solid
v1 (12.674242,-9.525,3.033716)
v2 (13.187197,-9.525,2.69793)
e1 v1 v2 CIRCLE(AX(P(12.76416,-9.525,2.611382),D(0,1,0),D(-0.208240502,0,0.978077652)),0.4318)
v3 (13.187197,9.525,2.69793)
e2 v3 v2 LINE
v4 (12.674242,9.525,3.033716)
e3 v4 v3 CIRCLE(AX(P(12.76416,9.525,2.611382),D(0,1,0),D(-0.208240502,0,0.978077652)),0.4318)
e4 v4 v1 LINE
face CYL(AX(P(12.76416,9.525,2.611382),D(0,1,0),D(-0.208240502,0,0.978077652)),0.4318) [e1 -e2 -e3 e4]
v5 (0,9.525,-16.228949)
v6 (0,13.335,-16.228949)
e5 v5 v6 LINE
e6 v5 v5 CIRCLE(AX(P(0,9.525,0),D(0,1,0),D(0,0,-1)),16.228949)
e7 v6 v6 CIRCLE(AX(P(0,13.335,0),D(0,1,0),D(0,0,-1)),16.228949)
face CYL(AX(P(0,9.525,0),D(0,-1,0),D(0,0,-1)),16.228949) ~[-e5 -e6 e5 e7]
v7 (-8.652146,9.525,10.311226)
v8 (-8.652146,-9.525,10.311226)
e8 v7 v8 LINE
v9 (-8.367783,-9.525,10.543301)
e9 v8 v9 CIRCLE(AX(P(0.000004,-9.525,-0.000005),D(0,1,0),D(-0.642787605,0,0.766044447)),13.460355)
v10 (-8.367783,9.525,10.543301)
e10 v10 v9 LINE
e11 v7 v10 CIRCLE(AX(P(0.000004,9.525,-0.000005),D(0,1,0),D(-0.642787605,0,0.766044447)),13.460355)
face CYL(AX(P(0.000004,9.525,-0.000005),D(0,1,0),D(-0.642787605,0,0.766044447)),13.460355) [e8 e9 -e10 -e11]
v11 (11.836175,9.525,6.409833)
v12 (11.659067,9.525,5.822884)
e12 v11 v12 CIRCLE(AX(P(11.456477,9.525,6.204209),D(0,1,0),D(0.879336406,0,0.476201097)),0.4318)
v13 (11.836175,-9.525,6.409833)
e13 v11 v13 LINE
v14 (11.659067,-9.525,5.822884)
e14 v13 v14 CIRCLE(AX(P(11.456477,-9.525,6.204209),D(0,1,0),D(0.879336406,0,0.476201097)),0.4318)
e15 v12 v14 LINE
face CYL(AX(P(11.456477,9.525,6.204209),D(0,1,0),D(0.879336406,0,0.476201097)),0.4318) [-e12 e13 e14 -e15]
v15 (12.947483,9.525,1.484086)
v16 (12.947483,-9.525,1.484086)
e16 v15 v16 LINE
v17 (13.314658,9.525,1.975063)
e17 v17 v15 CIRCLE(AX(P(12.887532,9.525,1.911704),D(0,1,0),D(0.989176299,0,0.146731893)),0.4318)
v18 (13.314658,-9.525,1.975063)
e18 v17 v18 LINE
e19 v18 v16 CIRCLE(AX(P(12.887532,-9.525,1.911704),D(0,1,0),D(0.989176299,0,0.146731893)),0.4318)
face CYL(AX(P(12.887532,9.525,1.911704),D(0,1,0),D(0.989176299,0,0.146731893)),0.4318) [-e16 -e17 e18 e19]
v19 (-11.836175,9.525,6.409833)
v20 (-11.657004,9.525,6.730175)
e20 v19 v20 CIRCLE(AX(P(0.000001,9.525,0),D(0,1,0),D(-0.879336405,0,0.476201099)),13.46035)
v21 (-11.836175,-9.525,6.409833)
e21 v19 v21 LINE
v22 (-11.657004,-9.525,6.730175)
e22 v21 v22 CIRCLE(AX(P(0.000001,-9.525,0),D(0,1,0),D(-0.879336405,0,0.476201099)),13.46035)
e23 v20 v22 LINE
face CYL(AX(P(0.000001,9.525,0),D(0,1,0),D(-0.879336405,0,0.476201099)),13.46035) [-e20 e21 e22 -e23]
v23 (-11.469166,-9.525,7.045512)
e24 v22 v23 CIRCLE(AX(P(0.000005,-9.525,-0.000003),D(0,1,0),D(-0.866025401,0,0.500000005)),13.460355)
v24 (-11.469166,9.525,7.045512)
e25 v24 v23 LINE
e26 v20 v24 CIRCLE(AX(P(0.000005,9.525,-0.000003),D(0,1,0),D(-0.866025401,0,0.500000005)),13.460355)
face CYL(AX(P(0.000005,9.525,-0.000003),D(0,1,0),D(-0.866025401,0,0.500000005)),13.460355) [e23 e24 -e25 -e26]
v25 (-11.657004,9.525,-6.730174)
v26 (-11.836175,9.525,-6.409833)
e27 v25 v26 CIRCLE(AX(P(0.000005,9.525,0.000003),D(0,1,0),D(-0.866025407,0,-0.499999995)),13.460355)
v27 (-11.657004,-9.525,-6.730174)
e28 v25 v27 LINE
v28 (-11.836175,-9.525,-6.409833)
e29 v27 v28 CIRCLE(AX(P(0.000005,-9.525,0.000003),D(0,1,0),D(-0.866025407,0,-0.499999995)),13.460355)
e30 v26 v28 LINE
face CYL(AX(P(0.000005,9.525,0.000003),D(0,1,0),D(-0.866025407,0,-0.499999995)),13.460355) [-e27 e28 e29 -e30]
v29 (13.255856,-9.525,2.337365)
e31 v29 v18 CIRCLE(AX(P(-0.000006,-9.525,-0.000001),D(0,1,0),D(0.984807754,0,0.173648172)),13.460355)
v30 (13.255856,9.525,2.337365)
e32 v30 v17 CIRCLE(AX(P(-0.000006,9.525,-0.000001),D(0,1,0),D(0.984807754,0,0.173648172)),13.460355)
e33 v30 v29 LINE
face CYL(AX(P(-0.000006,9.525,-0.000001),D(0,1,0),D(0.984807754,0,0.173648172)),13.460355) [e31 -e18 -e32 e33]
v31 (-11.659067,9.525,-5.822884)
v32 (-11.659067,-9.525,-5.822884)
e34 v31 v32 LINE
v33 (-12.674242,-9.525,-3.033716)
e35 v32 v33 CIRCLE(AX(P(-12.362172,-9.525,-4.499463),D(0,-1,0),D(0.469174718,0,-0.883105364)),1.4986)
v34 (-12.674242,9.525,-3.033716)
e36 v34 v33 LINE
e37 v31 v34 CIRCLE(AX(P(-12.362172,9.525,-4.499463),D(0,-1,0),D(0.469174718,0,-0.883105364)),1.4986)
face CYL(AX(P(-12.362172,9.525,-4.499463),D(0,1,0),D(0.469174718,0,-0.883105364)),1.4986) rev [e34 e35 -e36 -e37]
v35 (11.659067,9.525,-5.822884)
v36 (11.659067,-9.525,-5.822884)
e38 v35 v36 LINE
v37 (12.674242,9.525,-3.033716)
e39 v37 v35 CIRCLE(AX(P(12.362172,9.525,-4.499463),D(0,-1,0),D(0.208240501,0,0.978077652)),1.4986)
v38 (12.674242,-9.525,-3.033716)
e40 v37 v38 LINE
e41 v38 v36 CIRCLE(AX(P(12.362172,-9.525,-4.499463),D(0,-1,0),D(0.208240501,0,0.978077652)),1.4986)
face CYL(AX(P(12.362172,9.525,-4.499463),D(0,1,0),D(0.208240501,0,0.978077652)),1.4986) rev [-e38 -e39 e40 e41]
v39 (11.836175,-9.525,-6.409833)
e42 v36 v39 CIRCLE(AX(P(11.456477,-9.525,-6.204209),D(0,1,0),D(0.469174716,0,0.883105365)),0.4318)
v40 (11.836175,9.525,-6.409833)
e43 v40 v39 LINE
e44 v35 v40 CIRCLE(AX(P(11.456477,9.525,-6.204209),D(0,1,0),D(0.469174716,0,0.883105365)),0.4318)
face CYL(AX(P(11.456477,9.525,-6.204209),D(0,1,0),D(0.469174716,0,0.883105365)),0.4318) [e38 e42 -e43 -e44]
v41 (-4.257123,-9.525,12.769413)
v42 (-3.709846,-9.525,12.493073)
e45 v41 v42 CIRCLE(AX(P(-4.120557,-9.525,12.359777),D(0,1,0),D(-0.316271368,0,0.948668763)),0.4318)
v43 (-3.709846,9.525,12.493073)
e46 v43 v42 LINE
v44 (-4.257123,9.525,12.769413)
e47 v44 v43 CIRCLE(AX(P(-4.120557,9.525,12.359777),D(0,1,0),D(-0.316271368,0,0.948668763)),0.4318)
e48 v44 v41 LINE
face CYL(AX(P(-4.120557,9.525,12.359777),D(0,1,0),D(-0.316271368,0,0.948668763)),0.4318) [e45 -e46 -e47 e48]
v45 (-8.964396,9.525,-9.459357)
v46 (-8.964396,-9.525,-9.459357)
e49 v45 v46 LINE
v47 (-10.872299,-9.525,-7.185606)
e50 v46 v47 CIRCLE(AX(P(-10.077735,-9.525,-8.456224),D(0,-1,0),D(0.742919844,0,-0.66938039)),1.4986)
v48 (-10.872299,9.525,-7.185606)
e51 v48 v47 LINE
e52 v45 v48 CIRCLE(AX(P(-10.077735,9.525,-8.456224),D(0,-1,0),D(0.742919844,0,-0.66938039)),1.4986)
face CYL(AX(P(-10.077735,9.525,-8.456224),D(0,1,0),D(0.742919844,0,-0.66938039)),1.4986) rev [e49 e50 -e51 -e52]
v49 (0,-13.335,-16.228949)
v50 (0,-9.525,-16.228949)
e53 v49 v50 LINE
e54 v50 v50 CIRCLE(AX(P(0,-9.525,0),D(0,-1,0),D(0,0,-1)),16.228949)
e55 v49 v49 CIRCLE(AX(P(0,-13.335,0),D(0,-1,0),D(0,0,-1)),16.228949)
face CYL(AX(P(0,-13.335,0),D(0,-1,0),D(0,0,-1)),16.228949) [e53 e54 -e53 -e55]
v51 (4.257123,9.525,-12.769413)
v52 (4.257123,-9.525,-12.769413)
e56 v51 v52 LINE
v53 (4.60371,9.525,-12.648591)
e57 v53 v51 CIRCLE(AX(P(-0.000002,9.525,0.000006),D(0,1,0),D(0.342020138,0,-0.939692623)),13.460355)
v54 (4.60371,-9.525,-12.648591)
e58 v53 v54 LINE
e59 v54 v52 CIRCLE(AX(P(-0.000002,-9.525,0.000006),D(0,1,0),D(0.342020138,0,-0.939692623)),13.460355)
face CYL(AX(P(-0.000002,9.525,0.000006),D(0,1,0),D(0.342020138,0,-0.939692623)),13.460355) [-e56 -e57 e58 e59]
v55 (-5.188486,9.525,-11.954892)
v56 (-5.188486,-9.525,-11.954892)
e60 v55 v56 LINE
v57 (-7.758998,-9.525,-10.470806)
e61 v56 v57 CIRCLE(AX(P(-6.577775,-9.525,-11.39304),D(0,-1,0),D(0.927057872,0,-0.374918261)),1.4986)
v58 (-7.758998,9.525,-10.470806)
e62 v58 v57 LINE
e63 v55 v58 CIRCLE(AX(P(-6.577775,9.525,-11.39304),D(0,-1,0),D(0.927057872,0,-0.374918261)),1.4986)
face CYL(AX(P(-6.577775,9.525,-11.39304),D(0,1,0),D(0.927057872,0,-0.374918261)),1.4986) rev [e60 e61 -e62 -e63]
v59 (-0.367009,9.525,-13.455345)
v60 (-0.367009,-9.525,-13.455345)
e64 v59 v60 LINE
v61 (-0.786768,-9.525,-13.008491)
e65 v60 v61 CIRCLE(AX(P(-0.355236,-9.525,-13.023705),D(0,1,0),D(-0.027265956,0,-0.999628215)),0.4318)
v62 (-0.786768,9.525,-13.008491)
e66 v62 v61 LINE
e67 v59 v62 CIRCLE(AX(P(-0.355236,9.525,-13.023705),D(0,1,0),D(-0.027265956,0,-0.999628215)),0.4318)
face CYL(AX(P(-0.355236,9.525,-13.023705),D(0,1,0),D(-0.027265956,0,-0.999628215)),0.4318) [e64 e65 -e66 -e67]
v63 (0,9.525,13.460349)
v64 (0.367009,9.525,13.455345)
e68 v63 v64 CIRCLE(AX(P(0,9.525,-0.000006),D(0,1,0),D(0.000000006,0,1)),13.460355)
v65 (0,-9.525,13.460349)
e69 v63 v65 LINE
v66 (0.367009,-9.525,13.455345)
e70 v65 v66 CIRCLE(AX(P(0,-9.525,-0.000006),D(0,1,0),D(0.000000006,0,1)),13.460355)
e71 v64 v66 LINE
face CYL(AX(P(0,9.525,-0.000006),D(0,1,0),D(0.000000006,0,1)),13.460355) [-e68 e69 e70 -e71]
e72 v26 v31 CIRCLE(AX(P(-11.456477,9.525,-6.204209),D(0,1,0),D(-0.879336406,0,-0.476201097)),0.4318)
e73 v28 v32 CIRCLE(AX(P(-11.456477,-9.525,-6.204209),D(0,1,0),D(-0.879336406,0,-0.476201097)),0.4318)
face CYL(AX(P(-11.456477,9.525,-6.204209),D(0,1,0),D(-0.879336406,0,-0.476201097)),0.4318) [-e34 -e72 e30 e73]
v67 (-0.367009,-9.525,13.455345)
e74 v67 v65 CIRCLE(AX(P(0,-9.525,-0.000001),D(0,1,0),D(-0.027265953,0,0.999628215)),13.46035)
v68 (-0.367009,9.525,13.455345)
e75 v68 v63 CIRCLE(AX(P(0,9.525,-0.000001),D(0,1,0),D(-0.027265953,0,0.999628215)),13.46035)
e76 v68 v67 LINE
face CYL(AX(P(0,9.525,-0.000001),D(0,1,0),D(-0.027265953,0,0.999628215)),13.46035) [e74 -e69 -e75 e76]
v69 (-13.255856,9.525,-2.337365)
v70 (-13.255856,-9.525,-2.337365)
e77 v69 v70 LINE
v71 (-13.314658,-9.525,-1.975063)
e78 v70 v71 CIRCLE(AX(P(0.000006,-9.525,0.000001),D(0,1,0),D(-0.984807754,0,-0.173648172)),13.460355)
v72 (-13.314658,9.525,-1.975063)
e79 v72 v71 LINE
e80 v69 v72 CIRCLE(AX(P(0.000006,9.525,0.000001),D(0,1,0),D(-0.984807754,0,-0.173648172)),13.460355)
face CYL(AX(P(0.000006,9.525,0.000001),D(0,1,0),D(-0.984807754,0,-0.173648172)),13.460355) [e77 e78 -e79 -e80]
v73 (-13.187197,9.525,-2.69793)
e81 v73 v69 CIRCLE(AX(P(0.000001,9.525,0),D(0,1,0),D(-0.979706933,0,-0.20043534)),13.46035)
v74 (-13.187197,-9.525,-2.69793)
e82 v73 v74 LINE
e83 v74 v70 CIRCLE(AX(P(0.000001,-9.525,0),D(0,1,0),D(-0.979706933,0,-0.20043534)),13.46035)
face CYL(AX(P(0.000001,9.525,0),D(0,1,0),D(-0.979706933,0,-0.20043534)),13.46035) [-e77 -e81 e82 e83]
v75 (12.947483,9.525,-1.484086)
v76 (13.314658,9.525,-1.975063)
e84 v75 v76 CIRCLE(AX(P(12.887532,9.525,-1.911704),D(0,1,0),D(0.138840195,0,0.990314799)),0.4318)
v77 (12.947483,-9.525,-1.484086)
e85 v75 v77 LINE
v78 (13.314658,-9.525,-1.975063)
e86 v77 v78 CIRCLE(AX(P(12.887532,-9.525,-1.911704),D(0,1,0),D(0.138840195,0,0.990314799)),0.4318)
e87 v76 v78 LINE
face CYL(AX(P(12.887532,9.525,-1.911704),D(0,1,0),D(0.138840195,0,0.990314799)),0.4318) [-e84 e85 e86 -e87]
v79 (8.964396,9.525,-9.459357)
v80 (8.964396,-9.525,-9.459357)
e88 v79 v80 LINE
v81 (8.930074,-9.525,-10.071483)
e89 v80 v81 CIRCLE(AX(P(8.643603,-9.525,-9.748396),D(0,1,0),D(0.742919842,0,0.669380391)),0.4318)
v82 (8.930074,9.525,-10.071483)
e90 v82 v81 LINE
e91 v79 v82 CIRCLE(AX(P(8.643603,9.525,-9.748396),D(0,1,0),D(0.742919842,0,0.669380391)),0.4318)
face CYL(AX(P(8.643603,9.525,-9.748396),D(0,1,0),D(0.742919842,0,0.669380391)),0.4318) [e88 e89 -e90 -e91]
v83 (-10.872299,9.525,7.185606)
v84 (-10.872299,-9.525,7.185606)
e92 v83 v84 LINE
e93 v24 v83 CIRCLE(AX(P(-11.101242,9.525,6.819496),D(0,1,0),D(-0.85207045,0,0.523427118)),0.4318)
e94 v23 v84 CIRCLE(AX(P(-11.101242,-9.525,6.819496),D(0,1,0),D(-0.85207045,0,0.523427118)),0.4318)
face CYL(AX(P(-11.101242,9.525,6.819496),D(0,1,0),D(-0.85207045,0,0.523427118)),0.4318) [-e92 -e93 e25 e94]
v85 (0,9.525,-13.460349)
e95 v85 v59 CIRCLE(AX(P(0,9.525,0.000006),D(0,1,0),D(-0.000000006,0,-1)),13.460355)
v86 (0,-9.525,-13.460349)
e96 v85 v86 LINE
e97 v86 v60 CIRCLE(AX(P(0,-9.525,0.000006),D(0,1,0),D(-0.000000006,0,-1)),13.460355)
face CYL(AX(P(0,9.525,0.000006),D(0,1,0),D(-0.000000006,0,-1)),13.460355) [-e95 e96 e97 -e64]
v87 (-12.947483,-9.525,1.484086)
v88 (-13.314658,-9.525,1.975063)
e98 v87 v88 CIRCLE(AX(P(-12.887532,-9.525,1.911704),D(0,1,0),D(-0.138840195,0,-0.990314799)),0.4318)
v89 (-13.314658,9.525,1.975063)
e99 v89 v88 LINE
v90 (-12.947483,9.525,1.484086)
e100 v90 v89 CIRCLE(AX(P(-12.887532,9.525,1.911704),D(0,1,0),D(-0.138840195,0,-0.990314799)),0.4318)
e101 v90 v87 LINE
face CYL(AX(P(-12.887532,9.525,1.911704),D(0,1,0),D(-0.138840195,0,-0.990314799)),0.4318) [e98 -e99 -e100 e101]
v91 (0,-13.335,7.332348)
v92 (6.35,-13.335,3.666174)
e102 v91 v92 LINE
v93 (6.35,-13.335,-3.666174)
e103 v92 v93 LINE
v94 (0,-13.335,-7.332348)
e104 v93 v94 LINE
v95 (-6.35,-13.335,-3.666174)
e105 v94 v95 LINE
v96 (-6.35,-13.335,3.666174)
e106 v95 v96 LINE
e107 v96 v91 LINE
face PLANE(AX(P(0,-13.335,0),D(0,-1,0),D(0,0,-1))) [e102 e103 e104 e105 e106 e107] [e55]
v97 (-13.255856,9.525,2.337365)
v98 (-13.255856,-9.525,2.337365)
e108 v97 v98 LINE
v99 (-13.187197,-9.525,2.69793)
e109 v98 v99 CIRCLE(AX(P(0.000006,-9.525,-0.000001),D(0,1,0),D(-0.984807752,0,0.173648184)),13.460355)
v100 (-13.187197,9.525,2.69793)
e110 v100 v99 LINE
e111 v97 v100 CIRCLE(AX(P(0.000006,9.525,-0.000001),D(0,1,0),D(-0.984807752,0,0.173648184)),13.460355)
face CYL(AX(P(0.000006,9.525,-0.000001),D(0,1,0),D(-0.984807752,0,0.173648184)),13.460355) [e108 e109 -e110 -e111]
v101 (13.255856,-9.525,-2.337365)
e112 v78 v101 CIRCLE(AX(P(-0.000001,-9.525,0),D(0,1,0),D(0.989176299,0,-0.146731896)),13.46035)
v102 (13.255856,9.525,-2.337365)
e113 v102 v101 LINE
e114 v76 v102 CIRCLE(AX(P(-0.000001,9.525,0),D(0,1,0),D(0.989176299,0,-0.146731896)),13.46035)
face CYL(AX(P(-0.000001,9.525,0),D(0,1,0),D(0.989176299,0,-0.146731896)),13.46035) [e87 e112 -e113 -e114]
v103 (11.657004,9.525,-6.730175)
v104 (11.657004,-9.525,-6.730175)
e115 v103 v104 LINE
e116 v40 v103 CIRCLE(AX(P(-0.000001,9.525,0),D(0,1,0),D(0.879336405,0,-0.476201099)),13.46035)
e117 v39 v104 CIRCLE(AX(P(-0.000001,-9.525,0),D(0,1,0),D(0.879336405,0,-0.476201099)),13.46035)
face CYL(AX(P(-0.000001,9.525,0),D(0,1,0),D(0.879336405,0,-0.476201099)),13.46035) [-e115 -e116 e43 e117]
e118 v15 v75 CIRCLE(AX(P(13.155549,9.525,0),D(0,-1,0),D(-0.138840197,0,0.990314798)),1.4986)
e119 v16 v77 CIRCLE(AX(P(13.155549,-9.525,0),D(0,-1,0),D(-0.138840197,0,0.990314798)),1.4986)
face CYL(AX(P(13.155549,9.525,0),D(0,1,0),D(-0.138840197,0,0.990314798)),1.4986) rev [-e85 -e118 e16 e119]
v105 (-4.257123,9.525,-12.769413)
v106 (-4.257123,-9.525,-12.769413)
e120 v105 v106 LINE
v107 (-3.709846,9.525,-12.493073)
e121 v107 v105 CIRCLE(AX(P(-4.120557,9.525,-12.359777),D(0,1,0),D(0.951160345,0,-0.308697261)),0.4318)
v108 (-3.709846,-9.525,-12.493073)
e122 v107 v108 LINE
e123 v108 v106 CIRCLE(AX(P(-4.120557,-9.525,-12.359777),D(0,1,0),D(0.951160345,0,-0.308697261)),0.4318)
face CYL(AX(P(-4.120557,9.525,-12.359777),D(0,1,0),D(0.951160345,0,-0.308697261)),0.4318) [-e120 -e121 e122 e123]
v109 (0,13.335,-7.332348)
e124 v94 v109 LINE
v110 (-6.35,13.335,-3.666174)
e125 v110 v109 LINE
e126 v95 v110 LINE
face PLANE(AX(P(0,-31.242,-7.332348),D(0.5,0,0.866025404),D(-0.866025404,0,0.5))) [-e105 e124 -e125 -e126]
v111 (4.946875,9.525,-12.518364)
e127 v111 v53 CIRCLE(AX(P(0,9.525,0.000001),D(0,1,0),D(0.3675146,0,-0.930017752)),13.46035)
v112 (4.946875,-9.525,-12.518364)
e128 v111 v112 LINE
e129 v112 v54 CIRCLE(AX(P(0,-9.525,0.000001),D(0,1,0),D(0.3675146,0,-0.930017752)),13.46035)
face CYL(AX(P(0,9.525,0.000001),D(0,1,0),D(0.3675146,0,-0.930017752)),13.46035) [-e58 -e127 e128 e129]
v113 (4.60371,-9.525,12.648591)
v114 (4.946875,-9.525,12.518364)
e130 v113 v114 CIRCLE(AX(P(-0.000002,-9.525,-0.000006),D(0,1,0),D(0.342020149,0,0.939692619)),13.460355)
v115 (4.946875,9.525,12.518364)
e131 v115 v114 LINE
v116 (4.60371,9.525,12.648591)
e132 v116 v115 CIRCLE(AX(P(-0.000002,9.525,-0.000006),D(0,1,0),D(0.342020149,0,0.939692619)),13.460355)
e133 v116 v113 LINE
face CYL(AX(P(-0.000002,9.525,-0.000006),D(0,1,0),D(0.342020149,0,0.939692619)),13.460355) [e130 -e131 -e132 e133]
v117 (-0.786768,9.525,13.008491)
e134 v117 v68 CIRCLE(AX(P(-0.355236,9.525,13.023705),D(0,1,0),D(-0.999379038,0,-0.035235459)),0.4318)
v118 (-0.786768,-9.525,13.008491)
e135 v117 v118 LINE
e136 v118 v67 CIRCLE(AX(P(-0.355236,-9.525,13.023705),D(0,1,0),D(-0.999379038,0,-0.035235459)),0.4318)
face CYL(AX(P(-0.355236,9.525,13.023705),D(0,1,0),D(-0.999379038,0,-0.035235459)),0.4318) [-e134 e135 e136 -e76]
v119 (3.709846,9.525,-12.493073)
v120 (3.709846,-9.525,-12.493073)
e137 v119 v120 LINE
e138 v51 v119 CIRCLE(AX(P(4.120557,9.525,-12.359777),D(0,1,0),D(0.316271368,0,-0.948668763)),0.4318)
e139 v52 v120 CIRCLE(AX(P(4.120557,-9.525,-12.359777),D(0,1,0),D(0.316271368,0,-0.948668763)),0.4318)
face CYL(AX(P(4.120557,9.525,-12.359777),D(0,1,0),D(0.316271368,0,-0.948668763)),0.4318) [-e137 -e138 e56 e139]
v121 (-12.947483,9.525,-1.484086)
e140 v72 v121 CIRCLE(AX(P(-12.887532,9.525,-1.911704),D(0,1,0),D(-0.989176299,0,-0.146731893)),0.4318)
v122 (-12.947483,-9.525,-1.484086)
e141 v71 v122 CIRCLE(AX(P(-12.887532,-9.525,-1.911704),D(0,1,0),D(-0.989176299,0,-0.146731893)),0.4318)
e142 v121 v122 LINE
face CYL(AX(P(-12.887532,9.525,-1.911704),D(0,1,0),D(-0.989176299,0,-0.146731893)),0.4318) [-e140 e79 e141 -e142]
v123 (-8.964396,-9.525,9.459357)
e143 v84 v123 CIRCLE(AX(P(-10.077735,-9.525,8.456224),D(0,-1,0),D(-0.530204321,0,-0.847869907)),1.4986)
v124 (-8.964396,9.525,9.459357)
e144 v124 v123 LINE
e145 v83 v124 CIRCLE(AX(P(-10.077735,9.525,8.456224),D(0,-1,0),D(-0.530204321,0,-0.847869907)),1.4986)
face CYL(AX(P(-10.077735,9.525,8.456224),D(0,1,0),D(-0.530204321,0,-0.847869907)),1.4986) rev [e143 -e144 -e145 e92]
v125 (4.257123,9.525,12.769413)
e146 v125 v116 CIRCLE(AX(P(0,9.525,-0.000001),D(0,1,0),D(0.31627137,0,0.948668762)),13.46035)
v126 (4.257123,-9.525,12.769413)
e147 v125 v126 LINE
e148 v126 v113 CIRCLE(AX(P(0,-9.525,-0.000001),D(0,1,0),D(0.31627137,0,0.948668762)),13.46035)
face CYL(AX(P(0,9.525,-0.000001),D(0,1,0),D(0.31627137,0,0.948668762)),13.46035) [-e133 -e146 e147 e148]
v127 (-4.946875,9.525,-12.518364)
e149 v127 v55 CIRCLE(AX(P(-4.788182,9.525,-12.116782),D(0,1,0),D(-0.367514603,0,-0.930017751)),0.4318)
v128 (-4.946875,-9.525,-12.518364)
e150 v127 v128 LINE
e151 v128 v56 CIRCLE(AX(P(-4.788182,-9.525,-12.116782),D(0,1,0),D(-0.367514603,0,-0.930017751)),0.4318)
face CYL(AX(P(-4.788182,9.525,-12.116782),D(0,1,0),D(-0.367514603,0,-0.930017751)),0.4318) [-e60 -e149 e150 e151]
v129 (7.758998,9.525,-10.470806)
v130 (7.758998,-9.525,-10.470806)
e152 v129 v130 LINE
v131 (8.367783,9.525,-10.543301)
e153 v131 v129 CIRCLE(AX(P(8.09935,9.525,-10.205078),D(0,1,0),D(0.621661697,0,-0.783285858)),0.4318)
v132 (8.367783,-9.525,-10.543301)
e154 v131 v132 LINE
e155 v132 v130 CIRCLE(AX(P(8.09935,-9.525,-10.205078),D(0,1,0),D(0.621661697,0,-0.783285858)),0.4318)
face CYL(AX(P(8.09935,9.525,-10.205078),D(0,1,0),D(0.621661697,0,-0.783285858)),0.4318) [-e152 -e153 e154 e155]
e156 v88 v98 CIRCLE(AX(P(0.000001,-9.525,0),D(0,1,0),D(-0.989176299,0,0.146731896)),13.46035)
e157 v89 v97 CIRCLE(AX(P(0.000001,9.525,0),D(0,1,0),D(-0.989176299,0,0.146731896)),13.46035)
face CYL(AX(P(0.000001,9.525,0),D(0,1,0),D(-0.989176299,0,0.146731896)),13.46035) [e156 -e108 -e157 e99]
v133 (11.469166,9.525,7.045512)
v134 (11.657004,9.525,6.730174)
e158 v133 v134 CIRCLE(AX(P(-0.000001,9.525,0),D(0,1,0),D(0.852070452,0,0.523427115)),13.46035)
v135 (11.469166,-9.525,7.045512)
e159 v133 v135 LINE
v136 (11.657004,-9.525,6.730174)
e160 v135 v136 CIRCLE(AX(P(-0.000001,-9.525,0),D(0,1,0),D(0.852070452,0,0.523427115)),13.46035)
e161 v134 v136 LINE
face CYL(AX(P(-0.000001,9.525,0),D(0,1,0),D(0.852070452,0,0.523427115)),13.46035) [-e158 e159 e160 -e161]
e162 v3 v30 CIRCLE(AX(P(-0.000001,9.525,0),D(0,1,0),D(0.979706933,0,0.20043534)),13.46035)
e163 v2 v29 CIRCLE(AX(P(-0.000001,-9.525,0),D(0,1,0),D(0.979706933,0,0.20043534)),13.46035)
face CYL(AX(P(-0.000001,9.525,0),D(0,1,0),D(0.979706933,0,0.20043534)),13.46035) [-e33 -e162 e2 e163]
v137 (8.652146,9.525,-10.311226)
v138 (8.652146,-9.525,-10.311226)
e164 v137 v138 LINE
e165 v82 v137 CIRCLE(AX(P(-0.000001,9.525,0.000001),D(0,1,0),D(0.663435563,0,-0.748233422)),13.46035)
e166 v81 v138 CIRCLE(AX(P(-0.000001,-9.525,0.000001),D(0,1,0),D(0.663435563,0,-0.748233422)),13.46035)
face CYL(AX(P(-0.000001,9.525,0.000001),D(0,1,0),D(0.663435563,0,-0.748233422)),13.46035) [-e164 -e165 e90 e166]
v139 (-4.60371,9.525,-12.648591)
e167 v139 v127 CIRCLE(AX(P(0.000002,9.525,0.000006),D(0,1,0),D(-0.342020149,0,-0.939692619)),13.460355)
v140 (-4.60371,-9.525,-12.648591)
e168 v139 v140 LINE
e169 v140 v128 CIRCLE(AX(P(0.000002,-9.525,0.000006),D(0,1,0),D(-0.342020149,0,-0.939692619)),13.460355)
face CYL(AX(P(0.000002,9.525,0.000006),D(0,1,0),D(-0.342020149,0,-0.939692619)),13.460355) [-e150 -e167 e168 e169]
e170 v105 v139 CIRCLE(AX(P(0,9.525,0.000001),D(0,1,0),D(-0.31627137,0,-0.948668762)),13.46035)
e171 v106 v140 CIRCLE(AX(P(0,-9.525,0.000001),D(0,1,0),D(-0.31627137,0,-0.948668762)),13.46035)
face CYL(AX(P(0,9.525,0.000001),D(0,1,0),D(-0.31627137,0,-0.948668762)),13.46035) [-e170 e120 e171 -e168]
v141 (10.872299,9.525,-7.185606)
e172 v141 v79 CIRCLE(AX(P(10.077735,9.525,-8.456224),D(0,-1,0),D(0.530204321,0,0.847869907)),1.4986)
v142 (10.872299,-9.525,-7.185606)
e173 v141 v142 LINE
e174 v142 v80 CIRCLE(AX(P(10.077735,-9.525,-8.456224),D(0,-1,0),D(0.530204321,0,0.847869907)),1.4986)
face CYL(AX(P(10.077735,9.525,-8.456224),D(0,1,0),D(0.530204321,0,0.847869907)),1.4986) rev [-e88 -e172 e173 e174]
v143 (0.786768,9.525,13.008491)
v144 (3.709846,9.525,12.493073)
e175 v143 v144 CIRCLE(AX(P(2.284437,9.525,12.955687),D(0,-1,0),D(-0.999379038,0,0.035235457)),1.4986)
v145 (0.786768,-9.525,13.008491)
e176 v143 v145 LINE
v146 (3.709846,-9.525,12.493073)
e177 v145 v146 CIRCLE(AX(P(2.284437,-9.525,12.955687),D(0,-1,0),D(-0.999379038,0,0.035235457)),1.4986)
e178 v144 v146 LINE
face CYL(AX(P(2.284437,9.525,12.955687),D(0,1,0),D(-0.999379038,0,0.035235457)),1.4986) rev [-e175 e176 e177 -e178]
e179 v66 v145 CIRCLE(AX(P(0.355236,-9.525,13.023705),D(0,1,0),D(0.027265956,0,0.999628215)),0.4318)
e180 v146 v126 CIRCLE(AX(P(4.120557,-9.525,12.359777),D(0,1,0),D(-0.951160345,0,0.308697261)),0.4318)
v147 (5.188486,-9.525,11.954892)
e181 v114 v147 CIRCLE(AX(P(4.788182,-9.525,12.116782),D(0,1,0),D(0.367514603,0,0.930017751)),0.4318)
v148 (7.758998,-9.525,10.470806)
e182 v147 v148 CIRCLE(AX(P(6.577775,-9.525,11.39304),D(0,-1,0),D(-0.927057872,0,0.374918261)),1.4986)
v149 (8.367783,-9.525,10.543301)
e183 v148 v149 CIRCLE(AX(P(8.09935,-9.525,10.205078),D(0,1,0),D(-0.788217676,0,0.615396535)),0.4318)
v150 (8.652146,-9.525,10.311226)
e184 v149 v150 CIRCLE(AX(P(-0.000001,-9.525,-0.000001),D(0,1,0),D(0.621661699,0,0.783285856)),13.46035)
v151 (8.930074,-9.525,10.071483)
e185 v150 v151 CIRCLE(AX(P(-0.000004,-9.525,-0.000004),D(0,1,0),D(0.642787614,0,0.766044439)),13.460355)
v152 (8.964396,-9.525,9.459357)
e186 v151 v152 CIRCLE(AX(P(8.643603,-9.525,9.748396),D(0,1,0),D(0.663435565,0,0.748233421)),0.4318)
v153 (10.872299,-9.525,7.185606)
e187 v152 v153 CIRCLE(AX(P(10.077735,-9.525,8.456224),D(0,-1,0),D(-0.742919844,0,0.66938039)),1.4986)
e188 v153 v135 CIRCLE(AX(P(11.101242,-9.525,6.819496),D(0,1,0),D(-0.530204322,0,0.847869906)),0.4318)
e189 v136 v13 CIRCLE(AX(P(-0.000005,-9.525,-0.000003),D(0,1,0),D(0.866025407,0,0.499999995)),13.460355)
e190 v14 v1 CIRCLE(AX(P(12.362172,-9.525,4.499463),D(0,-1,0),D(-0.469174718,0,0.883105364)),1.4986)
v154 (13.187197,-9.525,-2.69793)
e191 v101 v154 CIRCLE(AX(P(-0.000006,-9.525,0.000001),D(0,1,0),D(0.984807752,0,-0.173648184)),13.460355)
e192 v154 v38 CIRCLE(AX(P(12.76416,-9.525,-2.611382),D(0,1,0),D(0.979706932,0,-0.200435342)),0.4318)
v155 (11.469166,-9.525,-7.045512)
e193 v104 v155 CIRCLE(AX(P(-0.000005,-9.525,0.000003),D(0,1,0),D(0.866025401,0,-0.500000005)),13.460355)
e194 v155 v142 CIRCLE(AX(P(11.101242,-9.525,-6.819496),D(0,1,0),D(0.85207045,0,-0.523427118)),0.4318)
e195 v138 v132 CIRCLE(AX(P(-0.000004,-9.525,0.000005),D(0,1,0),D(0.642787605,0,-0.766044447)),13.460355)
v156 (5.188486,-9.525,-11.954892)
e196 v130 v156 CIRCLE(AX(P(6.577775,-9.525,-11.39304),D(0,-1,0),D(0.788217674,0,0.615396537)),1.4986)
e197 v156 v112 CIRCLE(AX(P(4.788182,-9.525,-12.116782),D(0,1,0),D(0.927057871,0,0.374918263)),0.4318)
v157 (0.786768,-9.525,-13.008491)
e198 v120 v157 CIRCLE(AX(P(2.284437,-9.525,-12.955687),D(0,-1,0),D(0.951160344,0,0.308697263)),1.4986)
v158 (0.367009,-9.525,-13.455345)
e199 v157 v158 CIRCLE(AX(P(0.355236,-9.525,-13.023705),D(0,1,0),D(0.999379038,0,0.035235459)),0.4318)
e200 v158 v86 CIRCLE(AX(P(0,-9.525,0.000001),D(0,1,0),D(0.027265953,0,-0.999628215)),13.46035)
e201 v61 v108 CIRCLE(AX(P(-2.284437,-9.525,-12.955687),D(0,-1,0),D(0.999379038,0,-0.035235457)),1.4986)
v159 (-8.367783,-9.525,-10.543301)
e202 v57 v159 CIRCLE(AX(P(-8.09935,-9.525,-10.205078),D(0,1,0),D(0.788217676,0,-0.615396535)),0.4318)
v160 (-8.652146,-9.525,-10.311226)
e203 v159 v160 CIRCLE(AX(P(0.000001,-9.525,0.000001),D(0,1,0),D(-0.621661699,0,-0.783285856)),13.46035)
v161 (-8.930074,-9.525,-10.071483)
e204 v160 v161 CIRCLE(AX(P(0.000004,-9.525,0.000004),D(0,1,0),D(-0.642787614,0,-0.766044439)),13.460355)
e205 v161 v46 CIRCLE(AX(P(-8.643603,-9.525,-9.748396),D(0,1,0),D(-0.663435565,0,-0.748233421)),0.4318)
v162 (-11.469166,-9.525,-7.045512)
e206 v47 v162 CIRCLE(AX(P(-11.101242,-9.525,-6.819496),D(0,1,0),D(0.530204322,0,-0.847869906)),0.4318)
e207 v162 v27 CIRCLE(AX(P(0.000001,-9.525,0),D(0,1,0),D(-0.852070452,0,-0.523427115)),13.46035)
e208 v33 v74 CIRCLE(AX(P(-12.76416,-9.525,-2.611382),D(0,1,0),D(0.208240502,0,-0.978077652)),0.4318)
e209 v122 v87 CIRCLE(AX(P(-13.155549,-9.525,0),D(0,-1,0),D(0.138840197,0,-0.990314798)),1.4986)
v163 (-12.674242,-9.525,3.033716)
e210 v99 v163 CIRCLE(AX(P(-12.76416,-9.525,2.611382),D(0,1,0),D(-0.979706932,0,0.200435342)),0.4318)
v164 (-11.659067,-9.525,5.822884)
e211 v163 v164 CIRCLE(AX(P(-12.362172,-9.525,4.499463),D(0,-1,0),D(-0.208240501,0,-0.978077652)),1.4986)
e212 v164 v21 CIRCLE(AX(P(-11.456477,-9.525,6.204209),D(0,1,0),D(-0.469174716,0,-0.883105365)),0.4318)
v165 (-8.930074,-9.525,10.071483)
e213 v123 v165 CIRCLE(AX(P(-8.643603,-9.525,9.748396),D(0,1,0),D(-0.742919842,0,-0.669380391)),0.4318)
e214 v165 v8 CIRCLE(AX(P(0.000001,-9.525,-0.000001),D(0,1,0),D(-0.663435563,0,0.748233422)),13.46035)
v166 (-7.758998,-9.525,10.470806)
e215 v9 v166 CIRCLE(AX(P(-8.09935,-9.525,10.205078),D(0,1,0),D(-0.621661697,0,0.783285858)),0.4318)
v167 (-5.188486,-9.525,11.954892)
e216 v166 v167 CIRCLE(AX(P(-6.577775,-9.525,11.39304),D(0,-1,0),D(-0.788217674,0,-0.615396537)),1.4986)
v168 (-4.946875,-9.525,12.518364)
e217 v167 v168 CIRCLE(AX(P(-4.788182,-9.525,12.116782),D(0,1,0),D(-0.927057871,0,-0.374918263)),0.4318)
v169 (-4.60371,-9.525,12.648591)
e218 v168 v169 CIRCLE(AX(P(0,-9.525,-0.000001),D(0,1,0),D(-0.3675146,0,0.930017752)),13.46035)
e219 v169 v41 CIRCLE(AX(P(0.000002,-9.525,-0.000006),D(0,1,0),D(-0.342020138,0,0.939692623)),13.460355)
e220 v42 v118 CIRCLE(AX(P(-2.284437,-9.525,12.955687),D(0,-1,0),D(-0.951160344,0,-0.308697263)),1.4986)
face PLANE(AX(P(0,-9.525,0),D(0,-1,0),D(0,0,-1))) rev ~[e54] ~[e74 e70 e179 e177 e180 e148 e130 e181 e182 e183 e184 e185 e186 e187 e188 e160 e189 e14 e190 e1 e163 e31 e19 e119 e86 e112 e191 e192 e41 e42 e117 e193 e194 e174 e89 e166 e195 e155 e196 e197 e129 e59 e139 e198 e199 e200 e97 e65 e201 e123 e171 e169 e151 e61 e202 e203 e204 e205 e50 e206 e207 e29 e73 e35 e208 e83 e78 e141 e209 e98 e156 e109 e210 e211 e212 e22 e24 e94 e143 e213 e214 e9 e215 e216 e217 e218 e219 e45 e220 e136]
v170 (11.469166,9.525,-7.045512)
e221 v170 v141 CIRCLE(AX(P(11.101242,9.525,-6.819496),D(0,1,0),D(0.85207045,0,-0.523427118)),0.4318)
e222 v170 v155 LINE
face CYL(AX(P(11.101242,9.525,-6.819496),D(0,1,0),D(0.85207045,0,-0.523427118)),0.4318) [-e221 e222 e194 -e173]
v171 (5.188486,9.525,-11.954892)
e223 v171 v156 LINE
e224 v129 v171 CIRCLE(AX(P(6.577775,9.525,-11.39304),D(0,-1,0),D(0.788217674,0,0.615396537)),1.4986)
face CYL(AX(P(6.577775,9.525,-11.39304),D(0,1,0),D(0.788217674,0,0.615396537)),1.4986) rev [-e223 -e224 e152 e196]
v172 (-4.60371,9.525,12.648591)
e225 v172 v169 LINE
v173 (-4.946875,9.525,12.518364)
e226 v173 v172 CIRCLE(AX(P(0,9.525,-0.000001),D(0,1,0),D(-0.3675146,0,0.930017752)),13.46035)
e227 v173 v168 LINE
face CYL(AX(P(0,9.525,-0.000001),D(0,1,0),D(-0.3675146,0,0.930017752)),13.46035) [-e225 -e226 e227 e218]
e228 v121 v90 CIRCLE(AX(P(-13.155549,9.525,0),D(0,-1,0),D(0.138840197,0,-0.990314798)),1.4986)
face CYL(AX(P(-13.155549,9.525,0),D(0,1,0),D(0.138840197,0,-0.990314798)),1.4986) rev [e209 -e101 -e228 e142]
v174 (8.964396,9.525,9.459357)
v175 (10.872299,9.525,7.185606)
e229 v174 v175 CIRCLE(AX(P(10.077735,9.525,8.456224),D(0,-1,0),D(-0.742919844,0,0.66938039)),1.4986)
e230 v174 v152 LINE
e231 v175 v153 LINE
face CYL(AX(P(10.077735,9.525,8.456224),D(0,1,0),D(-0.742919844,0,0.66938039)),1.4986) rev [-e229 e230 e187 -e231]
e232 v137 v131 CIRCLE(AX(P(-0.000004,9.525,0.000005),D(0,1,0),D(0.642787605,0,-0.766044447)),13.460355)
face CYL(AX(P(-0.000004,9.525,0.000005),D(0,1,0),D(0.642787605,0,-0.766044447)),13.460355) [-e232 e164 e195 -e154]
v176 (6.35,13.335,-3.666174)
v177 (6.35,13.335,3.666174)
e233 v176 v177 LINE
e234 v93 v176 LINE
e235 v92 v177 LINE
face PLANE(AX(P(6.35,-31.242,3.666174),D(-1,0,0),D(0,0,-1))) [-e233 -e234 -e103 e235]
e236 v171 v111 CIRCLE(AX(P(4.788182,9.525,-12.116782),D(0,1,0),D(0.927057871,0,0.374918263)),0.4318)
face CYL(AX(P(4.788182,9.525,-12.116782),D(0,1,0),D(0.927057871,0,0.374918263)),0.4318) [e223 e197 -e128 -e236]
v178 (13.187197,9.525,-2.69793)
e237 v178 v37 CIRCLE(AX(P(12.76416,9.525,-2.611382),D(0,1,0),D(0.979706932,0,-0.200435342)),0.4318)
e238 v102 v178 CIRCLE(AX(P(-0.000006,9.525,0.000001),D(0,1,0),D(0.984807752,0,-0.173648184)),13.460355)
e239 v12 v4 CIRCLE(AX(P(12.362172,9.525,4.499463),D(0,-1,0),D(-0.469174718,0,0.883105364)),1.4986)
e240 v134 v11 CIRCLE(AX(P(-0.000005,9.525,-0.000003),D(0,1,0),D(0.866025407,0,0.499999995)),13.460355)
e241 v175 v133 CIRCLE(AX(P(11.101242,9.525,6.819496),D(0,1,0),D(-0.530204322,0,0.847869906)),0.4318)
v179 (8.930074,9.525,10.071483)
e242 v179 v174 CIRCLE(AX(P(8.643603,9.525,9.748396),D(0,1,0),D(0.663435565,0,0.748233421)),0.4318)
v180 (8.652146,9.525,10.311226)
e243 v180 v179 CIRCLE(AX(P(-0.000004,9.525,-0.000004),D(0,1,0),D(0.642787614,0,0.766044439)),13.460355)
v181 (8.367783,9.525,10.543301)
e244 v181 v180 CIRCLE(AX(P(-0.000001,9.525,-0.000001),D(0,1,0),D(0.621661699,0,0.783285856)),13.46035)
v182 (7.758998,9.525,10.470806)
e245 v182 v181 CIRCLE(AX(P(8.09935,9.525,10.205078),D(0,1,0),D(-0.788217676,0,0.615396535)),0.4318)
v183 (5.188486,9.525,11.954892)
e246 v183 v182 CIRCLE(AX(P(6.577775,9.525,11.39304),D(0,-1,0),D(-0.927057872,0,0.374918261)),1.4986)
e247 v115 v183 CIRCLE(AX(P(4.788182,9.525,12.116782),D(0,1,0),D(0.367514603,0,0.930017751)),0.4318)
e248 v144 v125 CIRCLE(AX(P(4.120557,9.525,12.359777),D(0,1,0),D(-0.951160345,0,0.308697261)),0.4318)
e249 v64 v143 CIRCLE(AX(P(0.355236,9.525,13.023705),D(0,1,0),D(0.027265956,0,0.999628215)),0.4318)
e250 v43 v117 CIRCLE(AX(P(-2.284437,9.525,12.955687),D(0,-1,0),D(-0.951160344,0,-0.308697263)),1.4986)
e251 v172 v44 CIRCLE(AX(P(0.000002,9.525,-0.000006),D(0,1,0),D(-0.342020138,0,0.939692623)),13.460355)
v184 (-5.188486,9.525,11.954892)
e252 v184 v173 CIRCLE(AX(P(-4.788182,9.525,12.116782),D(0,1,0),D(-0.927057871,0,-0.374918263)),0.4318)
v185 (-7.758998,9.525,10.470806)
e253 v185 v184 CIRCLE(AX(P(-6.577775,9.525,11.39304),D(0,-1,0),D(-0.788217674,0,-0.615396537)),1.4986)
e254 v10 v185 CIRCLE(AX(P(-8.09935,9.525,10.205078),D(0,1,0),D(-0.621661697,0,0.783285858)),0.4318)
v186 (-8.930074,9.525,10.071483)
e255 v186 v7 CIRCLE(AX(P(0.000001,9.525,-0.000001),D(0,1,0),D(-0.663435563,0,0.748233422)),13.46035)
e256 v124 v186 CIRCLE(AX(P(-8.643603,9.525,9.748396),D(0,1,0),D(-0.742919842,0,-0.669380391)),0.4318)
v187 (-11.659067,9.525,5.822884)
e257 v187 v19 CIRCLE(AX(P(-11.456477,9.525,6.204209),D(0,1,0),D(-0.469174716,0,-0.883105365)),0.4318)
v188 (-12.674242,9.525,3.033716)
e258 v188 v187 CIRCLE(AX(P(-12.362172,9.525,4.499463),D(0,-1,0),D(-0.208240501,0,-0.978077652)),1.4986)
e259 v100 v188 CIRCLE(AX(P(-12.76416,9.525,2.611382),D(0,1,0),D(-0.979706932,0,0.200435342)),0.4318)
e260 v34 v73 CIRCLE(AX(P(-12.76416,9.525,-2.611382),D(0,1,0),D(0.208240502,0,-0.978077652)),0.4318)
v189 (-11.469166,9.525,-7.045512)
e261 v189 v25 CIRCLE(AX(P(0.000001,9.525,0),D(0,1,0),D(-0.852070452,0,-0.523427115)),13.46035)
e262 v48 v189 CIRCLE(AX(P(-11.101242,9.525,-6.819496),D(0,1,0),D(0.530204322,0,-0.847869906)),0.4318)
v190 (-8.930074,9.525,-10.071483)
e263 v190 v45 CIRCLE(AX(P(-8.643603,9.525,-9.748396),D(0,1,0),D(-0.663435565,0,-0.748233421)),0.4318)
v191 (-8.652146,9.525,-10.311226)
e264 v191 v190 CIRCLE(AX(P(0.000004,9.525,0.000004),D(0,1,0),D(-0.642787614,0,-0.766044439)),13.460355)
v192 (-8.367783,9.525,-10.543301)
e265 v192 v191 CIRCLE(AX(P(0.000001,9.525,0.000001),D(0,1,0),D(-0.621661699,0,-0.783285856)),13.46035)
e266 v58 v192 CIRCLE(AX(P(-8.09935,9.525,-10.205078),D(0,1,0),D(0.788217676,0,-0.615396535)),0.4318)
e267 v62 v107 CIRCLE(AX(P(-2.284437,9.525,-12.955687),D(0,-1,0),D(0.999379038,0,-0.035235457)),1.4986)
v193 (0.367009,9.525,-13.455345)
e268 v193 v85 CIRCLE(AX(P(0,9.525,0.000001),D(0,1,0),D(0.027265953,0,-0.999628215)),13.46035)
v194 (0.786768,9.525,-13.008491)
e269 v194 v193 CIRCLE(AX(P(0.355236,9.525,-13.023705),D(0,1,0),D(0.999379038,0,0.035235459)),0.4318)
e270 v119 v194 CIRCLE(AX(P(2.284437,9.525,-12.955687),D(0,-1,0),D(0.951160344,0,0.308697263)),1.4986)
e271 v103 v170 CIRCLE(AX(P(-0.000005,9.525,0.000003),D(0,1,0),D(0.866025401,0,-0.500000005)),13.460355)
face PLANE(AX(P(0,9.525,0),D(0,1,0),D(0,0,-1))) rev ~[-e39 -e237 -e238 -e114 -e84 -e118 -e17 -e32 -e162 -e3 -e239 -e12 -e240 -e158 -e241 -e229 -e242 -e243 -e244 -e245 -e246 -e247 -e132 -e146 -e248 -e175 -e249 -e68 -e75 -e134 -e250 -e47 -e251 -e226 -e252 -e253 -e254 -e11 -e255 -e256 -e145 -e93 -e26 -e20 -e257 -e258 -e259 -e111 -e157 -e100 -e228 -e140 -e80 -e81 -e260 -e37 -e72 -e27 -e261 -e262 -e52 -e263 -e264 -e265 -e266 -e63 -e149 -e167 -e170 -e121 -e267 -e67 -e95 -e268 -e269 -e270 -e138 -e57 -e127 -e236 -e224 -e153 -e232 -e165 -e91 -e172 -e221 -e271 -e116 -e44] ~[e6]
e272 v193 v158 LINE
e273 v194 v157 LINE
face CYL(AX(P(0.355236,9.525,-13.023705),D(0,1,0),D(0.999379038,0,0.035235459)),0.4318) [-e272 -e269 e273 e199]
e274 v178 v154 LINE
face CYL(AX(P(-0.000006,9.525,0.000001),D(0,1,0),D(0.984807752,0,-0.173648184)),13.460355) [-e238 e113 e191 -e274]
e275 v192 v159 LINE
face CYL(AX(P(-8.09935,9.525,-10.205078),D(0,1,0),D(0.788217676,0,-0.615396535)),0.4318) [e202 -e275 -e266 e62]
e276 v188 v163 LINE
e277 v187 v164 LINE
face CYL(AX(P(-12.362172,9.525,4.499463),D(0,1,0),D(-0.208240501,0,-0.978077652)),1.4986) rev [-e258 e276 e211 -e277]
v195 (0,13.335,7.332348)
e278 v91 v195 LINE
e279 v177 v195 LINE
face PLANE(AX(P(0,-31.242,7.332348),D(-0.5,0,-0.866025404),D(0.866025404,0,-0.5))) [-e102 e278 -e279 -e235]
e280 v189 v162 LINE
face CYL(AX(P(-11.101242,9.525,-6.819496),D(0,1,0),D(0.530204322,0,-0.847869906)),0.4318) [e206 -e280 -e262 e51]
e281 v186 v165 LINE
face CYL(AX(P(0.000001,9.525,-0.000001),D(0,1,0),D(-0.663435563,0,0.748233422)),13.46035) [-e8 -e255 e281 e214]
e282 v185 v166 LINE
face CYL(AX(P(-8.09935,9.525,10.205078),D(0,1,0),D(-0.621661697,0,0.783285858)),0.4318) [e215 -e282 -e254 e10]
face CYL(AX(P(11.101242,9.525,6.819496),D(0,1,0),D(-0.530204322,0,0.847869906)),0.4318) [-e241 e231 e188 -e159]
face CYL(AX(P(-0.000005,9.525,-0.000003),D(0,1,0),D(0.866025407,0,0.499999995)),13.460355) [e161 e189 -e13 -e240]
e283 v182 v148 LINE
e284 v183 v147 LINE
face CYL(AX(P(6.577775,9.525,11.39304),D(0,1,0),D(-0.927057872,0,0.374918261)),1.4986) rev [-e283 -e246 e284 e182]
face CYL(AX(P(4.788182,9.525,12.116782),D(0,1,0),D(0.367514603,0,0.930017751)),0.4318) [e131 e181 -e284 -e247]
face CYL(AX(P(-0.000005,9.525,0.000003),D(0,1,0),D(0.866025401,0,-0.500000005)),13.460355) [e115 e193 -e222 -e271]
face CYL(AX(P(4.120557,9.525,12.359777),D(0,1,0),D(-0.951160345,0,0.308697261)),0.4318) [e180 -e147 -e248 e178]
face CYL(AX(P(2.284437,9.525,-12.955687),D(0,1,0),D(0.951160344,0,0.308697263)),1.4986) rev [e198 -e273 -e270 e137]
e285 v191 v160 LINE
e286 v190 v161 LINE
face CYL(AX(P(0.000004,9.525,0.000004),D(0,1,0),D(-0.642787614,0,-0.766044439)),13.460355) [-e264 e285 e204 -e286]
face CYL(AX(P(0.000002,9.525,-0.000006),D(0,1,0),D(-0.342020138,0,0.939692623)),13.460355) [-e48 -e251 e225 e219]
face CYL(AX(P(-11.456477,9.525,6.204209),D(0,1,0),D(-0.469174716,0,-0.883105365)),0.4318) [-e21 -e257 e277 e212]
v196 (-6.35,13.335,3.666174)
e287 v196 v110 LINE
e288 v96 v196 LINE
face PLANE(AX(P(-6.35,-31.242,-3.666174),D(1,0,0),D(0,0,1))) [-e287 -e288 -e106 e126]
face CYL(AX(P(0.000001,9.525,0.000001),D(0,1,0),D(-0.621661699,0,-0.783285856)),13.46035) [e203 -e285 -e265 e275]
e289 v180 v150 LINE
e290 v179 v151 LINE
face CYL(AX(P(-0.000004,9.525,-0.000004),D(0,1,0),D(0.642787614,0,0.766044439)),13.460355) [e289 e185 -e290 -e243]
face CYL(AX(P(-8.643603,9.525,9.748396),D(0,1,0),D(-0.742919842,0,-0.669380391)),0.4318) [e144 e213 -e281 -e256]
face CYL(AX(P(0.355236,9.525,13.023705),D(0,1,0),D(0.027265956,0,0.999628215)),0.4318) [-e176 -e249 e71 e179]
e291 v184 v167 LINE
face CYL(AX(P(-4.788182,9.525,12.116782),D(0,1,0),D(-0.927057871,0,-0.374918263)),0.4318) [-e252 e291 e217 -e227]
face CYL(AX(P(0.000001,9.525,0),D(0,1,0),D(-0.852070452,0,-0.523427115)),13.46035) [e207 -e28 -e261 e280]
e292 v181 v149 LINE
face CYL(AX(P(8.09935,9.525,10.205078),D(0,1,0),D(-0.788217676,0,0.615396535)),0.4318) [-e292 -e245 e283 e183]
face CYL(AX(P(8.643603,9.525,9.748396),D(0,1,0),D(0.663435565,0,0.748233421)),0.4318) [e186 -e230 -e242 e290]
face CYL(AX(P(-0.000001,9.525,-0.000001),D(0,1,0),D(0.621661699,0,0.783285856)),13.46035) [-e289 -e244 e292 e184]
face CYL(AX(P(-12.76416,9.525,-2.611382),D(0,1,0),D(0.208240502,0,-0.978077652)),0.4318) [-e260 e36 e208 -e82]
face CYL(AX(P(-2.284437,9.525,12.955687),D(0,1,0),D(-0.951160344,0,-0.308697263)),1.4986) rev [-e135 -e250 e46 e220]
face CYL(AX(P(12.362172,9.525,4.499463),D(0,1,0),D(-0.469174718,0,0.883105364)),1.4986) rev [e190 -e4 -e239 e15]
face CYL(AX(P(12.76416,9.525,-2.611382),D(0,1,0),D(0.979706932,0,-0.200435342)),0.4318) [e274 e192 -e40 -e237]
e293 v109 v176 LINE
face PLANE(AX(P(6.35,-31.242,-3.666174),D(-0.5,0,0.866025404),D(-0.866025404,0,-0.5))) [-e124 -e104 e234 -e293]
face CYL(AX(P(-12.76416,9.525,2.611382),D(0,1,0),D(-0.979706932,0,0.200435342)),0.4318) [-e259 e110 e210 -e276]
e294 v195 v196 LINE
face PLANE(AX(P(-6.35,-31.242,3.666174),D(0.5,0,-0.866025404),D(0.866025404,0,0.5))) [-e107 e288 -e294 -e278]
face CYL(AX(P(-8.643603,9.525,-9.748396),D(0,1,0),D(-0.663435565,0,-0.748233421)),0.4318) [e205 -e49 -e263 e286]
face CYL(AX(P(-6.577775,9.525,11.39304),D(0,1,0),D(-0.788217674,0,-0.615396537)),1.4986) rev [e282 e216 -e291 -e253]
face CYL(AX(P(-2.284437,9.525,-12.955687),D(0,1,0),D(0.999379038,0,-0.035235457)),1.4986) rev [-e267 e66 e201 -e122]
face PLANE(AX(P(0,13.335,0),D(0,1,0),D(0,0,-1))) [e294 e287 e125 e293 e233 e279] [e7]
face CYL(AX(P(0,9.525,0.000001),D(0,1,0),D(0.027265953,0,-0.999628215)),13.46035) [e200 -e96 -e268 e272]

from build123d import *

# Parameters (mm, degrees)
MOUNTINGHOLES_R         = 14.323949
BOSS_EXTRUDE1_DEPTH     = 9.525
CUT_EXTRUDE1_DEPTH      = 19.05
CIRPATTERN1_COUNT       = 18
FLANGE_R                = 16.228949
BOSS_EXTRUDE2_DEPTH     = 3.81
BOSS_EXTRUDE3_START     = 3.81
SKETCH6_R               = 16.228949
BOSS_EXTRUDE3_DEPTH     = 3.81
CUT_EXTRUDE5_DEPTH      = 32.512
CUT_EXTRUDE5_DEPTH_BACK = 31.242


with BuildPart() as part:
    # mountingHoles → Boss-Extrude1 (new, symmetric)
    with BuildSketch(Plane(origin=(0, 0, 0), x_dir=(1, 0, 0), z_dir=(0, 1, 0))):
        Circle(MOUNTINGHOLES_R)
    extrude(amount=BOSS_EXTRUDE1_DEPTH, both=True)

    # Sketch2 → Cut-Extrude1 (cut)
    with BuildSketch(Plane(origin=(0, 9.525, 0), x_dir=(1, 0, 0), z_dir=(0, 1, 0))):
        with BuildLine():
            Line((0, 13.460349), (0, 14.323949))
            ThreePointArc((0, 14.323949), (2.487327641, 14.106336029), (4.89907909, 13.460109176))
            Line((4.89907909, 13.460109176), (4.603710494, 12.648590629))
            ThreePointArc((4.603710494, 12.648590629), (4.430828603, 12.710183047), (4.257123016, 12.769412627))
            ThreePointArc((4.257123016, 12.769412627), (3.925929741, 12.745227134), (3.709846002, 12.493072933))
            ThreePointArc((3.709846002, 12.493072933), (2.024207951, 11.479853752), (0.786767683, 13.008490507))
            ThreePointArc((0.786767683, 13.008490507), (0.669957204, 13.319342941), (0.367009253, 13.455344641))
            ThreePointArc((0.367009253, 13.455344641), (0.183521685, 13.459097852), (0, 13.460349))
        make_face()
    cut_extrude1 = extrude(amount=-CUT_EXTRUDE1_DEPTH, mode=Mode.SUBTRACT)

    # CirPattern1: Cut-Extrude1 ×18 about axis
    cirpattern1_axis = Axis((0, 9.525, 0), (0, -1, 0))
    for i in range(1, CIRPATTERN1_COUNT):
        add(cut_extrude1.rotate(cirpattern1_axis, i * 360 / CIRPATTERN1_COUNT), mode=Mode.SUBTRACT)

    # flange → Boss-Extrude2 (add)
    with BuildSketch(Plane(origin=(0, 9.525, 0), x_dir=(1, 0, 0), z_dir=(0, 1, 0))):
        Circle(FLANGE_R)
    extrude(amount=BOSS_EXTRUDE2_DEPTH)

    # Sketch6 → Boss-Extrude3 (add)
    with BuildSketch(Plane.XZ.offset(9.525).offset(BOSS_EXTRUDE3_START)):
        Circle(SKETCH6_R)
    extrude(amount=-BOSS_EXTRUDE3_DEPTH)

    # Sketch1<5> → Cut-Extrude5 (cut, two sides: drawn at the far end of the back side and taken through both)
    with BuildSketch(Plane(origin=(0, 0, 0), x_dir=(1, 0, 0), z_dir=(0, 1, 0)).offset(-CUT_EXTRUDE5_DEPTH_BACK)):
        Polygon((0, 7.332348419), (-6.35, 3.666174209), (-6.35, -3.666174209), (0, -7.332348419), (6.35, -3.666174209), (6.35, 3.666174209), align=None)
    extrude(amount=CUT_EXTRUDE5_DEPTH + CUT_EXTRUDE5_DEPTH_BACK, mode=Mode.SUBTRACT)


solid = part.part
